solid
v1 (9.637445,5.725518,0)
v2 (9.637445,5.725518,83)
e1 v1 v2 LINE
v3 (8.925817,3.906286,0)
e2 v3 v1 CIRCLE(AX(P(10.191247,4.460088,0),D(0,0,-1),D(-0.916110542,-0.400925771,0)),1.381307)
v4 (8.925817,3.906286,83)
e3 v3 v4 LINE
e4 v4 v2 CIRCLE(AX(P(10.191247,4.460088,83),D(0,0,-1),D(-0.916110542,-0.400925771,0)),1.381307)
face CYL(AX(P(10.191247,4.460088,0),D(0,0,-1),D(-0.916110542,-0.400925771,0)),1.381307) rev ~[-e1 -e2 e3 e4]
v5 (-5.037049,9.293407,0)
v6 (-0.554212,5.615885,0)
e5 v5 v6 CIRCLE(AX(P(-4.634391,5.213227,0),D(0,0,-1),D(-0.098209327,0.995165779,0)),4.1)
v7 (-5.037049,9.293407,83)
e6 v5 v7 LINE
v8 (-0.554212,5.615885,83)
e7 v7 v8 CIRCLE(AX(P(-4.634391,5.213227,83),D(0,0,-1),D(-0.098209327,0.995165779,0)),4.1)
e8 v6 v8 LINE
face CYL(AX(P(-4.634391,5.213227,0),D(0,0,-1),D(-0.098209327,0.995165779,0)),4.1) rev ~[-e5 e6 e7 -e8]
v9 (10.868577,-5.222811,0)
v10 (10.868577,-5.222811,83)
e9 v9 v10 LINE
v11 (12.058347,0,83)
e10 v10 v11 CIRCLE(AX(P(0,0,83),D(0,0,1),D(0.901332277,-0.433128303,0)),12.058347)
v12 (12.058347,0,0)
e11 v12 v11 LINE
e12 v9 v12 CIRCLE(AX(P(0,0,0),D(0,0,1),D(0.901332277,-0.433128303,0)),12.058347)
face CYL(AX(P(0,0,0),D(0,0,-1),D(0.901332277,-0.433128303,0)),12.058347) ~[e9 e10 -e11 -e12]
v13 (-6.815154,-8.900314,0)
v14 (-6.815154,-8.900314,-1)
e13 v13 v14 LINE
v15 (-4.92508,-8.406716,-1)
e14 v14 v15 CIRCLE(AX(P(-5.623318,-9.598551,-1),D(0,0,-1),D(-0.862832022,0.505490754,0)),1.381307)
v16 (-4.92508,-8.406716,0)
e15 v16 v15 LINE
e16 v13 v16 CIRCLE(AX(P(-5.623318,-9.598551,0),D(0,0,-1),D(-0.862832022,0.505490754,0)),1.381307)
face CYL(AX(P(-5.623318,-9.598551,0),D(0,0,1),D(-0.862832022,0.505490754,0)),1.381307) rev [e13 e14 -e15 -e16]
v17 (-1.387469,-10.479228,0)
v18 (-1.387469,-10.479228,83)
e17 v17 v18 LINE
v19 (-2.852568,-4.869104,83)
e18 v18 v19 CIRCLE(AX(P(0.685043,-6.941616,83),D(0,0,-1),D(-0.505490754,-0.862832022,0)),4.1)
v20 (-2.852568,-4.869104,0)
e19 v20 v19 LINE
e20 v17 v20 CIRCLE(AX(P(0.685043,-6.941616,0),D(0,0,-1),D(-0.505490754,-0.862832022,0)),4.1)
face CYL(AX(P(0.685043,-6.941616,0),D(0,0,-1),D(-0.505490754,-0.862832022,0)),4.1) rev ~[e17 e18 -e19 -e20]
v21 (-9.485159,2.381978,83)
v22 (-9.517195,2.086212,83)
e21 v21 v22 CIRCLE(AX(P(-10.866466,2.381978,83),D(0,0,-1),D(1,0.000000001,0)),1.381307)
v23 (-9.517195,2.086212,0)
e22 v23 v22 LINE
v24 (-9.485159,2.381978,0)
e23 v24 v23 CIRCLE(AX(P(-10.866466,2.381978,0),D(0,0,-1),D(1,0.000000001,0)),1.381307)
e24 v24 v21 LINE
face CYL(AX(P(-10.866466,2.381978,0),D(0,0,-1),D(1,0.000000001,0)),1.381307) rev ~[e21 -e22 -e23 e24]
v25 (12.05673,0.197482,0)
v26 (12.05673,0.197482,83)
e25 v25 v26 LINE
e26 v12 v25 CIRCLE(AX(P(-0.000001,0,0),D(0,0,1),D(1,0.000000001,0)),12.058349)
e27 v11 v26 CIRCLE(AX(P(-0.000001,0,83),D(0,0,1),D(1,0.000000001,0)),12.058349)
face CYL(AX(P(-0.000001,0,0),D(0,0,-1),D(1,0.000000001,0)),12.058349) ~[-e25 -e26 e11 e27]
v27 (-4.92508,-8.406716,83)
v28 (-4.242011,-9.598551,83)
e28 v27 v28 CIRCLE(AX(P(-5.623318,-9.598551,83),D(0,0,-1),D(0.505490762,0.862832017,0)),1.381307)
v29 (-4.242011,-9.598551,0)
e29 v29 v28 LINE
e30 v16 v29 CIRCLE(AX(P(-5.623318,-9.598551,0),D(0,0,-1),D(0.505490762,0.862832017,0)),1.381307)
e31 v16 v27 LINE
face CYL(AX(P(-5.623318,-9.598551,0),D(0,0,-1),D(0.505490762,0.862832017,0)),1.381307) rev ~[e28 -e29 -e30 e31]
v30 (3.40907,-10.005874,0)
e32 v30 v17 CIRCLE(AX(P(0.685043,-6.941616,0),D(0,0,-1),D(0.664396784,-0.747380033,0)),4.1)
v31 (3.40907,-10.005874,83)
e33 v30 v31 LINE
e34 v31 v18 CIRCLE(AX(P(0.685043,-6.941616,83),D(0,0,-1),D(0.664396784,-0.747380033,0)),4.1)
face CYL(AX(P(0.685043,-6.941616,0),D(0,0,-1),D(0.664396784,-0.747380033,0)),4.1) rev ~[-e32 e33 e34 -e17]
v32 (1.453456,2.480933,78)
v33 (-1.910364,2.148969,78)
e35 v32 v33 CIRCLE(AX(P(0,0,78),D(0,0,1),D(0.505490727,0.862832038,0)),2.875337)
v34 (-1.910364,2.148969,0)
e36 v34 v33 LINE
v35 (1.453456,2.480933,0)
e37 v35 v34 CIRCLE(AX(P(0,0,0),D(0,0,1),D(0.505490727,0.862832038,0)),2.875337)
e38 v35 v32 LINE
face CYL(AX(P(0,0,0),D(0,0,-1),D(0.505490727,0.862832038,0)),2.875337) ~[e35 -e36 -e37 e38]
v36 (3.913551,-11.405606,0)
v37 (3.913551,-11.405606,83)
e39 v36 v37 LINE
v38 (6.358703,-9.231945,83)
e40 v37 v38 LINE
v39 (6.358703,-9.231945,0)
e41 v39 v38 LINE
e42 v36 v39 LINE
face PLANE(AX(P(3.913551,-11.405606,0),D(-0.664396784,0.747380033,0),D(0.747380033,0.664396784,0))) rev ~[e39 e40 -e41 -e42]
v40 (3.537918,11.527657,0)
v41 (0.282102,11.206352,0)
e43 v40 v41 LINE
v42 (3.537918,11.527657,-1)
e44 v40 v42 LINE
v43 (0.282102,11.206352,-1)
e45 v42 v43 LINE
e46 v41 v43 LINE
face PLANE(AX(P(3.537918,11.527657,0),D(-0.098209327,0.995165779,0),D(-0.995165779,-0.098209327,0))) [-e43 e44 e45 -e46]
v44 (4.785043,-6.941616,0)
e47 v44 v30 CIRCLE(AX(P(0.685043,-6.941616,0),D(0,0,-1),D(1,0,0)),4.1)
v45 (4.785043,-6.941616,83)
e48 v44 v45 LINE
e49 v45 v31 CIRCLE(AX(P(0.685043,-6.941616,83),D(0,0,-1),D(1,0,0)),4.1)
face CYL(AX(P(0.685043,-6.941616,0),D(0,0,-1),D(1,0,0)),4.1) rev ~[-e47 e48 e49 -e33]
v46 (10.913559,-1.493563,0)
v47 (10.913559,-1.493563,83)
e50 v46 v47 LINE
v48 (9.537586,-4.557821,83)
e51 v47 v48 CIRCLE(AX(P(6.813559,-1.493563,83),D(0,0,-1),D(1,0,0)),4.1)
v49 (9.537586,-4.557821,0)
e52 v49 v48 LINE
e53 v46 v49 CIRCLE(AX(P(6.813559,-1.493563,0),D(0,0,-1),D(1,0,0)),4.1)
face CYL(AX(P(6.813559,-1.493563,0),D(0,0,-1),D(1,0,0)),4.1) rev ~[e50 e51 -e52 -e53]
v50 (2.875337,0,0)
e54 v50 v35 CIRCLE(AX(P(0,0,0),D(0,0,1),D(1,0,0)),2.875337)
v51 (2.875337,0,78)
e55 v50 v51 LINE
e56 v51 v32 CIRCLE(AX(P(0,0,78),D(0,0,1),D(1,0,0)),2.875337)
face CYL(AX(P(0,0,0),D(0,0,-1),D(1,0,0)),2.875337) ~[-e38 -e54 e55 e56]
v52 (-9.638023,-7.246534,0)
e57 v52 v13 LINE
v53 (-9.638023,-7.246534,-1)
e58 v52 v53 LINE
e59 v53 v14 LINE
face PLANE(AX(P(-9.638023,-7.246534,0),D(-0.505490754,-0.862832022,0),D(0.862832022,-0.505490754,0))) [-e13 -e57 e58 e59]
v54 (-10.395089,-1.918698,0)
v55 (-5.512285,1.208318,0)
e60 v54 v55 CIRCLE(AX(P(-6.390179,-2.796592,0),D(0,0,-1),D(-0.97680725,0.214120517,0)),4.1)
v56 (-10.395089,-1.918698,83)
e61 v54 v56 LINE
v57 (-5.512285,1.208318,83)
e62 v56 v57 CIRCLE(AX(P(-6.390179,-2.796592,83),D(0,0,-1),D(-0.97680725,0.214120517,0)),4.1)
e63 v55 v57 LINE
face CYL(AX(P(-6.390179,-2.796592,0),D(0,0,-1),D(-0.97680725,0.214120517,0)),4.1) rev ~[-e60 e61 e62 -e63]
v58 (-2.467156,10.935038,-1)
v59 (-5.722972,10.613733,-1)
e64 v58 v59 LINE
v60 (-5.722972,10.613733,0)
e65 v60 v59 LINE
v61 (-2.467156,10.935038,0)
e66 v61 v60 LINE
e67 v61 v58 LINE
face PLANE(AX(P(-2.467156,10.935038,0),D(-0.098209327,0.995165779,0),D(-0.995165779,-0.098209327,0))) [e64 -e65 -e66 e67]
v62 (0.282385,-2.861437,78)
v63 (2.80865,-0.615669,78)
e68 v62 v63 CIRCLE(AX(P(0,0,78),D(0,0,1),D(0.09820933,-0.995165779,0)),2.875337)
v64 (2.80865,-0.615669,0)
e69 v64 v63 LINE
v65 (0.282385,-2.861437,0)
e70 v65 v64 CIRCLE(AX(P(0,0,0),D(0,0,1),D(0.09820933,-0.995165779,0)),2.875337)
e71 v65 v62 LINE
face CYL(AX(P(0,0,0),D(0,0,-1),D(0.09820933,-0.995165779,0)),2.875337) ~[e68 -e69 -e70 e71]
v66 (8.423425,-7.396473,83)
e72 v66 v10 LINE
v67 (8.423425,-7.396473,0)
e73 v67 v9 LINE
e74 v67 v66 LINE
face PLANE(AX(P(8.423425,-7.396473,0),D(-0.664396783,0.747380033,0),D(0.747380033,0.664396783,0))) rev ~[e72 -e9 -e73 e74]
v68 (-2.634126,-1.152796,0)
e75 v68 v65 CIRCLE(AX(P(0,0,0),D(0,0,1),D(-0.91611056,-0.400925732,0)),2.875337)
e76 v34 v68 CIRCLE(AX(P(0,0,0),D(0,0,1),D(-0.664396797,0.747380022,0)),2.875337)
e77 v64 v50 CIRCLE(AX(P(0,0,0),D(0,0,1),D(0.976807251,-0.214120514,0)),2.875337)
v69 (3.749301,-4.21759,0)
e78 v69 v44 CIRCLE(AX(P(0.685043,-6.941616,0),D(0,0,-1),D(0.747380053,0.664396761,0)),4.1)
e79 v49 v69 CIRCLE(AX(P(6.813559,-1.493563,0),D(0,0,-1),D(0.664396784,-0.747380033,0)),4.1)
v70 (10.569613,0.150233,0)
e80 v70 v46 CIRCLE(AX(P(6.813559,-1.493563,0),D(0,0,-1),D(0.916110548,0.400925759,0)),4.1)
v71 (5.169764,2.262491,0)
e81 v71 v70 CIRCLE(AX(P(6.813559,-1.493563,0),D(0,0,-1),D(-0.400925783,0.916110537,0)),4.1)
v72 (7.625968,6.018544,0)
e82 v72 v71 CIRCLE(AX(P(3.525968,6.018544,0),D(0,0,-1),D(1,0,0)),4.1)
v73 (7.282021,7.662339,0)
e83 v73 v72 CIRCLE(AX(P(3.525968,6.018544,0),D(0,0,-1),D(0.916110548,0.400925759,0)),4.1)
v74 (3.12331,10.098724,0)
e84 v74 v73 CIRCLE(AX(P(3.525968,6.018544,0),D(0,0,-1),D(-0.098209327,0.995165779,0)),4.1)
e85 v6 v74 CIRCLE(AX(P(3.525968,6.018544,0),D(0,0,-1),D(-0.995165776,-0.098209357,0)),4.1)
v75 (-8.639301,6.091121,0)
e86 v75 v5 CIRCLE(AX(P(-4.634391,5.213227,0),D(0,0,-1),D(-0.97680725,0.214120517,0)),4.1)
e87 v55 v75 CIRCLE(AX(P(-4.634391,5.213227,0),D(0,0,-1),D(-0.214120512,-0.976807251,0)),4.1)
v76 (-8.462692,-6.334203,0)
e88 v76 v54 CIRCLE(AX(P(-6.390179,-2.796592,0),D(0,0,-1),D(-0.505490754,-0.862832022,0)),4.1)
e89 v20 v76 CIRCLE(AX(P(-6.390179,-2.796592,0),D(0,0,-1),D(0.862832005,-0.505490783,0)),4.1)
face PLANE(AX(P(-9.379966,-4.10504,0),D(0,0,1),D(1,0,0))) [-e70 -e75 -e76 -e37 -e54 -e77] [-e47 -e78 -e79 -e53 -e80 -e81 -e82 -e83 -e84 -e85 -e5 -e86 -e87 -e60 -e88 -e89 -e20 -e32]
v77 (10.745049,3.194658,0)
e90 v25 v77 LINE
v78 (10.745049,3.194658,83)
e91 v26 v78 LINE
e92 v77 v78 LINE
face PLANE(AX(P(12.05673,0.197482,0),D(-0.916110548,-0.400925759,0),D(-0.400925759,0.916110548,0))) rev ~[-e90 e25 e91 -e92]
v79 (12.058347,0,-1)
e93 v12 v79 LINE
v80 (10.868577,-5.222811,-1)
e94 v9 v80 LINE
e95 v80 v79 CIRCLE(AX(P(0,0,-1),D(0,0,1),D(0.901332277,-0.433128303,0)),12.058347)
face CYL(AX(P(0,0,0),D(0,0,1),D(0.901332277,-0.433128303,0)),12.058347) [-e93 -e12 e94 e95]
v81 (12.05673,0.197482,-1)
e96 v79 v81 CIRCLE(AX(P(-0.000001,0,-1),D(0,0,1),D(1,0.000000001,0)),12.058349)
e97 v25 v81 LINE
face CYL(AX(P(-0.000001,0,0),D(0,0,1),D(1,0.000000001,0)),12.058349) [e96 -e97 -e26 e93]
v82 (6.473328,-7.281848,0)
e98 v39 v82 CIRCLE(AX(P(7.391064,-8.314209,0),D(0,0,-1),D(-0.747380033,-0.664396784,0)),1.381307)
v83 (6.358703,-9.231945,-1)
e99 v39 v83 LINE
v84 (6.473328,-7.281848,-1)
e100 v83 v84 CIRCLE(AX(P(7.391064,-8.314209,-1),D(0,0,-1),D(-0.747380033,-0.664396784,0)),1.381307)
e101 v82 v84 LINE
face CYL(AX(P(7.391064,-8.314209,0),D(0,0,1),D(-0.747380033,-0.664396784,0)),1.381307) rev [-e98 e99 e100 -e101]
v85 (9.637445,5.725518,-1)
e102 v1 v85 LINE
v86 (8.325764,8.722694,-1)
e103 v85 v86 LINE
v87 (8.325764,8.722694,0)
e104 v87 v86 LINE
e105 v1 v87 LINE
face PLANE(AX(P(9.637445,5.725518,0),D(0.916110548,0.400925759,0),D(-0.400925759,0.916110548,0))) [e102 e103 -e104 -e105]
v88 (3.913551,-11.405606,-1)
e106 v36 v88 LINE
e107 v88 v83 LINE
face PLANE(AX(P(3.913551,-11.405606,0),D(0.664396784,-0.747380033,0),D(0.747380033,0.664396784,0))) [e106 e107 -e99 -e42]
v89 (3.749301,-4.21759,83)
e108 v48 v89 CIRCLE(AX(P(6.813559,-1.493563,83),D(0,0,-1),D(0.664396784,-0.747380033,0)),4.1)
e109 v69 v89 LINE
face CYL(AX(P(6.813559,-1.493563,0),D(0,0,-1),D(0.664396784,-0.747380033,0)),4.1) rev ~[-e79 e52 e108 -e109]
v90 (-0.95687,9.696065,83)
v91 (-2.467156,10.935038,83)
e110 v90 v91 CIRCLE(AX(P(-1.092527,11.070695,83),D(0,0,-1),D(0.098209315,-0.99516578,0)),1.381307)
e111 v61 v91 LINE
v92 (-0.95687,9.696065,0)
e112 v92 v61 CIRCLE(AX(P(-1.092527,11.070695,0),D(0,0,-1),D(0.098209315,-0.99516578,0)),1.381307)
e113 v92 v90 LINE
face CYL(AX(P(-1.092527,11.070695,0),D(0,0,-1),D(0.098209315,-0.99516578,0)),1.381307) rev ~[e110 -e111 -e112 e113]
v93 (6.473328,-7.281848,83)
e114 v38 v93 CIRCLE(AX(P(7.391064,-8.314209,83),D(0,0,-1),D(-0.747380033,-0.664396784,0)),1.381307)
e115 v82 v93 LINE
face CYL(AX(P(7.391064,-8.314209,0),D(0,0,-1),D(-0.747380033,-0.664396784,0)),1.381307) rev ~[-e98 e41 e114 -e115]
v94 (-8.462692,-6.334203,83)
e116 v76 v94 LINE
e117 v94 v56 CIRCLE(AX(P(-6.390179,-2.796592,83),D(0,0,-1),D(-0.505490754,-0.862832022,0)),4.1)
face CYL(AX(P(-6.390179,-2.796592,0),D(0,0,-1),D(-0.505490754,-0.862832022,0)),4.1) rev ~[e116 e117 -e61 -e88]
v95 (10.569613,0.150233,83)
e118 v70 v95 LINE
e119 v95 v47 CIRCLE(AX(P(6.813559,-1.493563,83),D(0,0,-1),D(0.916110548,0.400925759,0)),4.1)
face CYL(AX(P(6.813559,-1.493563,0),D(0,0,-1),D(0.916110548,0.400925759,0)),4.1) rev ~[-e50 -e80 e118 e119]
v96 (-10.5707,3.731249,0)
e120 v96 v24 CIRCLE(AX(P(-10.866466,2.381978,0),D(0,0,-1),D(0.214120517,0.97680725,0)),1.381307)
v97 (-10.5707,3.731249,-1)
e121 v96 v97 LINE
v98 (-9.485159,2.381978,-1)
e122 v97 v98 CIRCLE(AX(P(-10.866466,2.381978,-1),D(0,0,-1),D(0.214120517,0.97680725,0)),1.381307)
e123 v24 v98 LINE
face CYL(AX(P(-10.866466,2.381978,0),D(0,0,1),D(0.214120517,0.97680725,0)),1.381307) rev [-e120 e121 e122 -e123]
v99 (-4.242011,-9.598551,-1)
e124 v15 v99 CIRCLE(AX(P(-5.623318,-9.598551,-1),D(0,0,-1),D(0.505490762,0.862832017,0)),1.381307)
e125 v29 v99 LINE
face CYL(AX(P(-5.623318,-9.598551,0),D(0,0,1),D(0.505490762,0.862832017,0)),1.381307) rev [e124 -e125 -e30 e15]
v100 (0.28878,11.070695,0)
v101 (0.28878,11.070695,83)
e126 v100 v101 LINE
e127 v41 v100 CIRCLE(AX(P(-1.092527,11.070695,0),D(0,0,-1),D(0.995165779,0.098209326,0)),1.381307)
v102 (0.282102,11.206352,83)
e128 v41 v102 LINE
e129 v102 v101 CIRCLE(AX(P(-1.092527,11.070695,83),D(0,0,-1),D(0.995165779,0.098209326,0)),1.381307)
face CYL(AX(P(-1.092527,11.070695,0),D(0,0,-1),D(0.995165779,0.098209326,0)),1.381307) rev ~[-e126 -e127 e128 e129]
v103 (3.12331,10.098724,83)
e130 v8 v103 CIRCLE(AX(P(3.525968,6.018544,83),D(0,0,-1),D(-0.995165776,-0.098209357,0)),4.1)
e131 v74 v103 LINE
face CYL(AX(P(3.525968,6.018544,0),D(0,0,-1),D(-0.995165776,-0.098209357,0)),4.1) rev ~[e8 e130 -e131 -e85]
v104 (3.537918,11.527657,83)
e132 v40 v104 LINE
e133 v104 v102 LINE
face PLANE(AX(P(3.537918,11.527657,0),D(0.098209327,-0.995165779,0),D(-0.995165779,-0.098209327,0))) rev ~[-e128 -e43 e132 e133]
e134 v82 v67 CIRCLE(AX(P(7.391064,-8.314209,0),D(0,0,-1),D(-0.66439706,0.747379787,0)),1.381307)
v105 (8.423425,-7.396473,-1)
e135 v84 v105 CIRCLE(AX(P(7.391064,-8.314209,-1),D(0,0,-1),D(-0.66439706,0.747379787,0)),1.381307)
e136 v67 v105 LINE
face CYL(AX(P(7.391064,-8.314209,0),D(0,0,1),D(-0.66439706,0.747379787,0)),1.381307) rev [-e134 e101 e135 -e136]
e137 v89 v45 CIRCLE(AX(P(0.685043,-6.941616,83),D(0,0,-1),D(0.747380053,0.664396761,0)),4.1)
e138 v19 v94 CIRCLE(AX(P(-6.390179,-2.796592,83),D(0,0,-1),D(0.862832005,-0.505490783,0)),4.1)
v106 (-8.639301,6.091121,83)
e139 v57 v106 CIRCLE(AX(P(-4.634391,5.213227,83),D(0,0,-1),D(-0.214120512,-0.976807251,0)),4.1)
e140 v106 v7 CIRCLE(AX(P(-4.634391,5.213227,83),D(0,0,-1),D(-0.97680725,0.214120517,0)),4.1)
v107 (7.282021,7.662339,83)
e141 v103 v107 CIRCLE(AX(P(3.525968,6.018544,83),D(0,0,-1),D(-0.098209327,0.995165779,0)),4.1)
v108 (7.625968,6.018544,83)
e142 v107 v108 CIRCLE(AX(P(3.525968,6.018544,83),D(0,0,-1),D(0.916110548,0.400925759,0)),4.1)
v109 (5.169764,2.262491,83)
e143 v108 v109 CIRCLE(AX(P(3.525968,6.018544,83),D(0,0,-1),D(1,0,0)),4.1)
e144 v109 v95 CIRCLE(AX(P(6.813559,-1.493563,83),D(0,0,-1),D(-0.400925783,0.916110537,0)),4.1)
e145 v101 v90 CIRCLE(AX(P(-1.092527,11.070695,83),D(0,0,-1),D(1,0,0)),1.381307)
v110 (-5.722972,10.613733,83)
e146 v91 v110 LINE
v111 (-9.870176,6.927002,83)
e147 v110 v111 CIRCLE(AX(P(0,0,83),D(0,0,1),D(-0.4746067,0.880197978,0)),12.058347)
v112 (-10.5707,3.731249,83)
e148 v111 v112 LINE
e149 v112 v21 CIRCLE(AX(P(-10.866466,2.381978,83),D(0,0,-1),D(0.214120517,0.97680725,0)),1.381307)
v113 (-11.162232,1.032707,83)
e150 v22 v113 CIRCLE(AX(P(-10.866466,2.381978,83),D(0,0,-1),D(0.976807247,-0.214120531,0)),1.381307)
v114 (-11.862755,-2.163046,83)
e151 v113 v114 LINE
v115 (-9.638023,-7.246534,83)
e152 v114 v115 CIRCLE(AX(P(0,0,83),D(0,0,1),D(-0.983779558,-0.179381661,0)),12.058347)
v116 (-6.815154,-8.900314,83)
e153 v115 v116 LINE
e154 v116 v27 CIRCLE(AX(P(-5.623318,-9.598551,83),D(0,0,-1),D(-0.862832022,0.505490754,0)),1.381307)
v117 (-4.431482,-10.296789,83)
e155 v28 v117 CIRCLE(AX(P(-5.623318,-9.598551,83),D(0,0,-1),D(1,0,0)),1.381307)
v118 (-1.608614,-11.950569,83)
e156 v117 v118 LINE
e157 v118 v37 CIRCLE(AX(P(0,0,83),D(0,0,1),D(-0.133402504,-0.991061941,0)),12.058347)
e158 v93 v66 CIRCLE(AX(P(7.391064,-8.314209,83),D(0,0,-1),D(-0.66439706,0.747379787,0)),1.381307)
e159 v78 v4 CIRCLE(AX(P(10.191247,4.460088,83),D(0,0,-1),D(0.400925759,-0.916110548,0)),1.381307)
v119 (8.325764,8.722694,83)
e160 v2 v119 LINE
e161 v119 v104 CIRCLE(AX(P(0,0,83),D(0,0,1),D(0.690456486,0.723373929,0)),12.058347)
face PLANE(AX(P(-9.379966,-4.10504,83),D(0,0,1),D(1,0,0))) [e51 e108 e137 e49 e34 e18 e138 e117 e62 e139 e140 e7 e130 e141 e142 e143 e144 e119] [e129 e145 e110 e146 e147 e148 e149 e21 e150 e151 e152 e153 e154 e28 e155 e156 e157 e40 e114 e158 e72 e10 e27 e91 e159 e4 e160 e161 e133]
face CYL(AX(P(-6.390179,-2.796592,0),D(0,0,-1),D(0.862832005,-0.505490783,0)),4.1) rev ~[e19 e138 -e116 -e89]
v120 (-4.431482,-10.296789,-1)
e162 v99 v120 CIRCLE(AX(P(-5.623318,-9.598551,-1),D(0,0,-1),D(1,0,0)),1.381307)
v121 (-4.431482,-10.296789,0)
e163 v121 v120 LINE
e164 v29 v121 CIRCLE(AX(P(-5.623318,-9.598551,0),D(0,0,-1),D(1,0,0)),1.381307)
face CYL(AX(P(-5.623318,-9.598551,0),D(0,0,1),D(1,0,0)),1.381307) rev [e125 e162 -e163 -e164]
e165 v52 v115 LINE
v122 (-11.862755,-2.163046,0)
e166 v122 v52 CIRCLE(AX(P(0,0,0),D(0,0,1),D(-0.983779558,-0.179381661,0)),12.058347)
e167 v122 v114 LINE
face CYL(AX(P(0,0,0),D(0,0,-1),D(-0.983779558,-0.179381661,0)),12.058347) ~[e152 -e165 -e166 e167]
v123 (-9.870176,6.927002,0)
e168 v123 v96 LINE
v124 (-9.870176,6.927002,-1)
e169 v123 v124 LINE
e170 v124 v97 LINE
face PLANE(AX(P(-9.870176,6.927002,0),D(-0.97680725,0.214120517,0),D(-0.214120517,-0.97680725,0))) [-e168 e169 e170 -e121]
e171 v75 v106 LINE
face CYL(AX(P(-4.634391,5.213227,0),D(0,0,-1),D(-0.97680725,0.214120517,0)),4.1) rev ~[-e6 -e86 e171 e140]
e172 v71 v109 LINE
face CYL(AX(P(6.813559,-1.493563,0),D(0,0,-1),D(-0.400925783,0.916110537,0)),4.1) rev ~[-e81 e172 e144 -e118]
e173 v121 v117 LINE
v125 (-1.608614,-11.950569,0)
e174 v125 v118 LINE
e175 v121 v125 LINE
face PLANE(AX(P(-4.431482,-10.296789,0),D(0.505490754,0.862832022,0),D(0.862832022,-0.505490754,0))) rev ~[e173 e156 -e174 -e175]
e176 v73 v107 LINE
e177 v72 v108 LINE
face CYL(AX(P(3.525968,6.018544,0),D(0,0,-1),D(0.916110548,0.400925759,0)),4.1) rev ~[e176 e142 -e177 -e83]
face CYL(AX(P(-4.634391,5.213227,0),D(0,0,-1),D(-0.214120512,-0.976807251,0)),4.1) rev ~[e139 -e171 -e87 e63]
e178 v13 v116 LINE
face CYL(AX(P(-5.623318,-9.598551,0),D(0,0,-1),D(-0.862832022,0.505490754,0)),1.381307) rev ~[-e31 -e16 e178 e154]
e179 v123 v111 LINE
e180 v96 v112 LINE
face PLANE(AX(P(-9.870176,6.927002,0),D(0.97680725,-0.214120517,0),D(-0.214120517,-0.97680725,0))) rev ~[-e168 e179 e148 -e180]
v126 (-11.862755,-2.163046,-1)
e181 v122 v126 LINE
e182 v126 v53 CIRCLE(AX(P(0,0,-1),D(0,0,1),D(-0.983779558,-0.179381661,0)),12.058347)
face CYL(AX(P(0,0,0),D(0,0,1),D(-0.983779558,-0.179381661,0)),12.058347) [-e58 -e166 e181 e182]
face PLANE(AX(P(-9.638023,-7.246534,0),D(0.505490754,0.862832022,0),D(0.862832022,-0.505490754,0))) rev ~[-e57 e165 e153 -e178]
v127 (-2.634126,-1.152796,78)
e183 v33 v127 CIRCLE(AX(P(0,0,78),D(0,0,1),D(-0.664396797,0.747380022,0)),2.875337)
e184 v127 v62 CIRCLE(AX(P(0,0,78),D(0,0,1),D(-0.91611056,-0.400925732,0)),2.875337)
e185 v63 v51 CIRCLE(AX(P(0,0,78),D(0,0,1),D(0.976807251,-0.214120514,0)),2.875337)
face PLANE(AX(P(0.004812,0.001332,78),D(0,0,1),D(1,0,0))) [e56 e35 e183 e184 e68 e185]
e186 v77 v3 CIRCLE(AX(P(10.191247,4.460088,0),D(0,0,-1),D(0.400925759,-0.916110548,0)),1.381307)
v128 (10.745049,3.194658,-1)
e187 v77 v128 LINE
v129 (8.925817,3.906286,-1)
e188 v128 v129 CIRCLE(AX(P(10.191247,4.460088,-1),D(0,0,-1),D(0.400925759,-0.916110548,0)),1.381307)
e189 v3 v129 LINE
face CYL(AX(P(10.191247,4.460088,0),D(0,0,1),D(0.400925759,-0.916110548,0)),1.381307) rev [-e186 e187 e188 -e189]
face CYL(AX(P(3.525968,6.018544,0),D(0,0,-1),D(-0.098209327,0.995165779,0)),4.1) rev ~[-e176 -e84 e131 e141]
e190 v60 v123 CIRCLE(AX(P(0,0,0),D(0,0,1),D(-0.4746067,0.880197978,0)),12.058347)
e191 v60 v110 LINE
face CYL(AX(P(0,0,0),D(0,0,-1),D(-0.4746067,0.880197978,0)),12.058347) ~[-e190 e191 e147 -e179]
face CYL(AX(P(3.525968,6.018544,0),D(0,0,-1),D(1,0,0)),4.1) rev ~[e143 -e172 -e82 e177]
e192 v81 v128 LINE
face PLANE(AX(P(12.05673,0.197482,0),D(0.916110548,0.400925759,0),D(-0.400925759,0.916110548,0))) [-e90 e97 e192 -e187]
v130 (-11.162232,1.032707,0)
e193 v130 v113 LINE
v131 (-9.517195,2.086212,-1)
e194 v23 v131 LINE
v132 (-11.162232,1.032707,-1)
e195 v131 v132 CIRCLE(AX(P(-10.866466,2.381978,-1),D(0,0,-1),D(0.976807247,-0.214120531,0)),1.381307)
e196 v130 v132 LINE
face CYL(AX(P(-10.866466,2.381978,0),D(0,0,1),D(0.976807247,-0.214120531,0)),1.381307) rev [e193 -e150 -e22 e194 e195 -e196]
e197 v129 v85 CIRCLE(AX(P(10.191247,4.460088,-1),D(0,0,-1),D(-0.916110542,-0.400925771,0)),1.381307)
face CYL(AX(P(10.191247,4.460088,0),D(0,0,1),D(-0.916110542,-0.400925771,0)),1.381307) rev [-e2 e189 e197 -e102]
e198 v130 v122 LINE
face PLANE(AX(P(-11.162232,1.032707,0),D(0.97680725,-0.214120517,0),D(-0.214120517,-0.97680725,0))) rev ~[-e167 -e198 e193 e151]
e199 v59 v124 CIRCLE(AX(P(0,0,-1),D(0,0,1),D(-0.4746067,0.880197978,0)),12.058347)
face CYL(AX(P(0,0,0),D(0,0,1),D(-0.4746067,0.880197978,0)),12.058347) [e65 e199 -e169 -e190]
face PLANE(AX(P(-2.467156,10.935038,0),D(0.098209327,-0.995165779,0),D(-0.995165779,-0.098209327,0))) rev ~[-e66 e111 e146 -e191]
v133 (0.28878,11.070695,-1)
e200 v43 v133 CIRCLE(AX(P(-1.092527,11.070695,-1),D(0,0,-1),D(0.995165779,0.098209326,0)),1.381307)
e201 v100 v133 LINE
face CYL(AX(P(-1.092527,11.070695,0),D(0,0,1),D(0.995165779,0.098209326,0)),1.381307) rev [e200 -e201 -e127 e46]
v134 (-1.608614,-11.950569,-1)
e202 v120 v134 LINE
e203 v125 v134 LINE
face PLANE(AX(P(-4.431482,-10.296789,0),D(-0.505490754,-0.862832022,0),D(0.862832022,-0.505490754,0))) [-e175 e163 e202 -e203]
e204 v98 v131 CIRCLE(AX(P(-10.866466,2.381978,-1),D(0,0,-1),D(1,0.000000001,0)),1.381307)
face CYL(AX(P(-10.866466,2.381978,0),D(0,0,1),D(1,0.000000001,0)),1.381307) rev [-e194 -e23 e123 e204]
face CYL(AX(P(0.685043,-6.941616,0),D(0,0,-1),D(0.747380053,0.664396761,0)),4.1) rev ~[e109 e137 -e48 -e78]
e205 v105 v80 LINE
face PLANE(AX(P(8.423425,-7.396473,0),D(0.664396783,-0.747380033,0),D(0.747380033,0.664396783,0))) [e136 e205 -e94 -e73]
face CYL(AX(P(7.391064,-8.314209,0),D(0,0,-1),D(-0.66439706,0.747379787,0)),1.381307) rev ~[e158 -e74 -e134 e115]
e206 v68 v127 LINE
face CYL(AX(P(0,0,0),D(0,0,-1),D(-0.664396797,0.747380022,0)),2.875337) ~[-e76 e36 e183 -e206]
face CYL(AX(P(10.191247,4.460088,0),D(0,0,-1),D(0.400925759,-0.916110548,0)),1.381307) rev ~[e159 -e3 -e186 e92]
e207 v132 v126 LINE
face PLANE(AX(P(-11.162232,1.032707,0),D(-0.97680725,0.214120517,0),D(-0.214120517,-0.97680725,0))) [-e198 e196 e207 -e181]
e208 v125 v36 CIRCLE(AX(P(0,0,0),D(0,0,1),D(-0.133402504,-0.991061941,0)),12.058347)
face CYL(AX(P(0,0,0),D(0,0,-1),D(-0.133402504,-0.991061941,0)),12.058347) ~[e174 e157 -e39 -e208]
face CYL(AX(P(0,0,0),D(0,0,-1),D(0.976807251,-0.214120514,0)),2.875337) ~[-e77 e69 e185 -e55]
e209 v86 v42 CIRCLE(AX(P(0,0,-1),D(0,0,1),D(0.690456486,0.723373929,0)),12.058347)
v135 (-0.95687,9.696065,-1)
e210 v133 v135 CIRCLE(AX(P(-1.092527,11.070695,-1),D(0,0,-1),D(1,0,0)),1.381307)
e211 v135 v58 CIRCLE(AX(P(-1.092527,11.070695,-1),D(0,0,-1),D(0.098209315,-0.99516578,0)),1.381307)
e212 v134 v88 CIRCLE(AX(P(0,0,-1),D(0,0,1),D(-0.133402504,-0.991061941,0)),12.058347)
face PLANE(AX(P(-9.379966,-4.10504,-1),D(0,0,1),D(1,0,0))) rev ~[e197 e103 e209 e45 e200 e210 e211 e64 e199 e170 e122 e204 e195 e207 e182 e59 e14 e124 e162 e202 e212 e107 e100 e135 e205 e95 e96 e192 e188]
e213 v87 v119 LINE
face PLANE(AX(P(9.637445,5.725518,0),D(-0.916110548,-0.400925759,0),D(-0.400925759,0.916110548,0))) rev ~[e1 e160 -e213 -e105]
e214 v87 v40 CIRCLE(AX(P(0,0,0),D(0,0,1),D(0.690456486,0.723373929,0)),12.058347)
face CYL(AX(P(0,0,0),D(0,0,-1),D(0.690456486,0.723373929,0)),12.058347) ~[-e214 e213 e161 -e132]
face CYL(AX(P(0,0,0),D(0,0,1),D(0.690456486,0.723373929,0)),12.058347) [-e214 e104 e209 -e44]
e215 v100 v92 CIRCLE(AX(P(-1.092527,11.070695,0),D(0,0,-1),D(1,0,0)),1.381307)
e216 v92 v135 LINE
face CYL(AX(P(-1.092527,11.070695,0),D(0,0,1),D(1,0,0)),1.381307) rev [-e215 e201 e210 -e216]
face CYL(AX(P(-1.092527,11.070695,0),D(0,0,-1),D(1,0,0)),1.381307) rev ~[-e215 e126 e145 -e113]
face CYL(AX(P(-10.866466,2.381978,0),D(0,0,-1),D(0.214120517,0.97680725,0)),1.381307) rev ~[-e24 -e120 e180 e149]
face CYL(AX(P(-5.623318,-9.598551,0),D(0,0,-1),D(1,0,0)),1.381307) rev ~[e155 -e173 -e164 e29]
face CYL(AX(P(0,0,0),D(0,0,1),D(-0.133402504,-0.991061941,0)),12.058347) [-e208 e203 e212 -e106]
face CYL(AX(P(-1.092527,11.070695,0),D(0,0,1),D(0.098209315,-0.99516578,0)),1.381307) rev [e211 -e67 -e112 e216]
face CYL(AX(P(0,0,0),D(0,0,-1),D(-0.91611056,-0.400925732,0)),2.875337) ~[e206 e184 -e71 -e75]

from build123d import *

# Parameters (mm, degrees)
F1_DEPTH = 83
F2_DEPTH = 1
F3_DEPTH = 78


with BuildPart() as f1:
    # F0 (on Top) → F1 (new body)
    with BuildSketch(Plane.XY):
        with BuildLine():
            Line((-10.3950891863, -1.9186980107), (-9.5171950704, 2.0862116958))
            ThreePointArc((-9.5171950704, 2.0862116958), (-10.1215255896, 1.2187611374), (-11.1622319686, 1.0327071659))
            Line((-11.1622319686, 1.0327071659), (-11.8627554285, -2.163046346))
            ThreePointArc((-11.8627554285, -2.163046346), (-11.0467790087, -4.8345019791), (-9.6380226836, -7.2465339717))
            Line((-9.6380226836, -7.2465339717), (-6.8151541357, -8.900313518))
            ThreePointArc((-6.8151541357, -8.900313518), (-5.9723446863, -8.2620673961), (-4.9250802493, -8.4067155171))
            Line((-4.9250802493, -8.4067155171), (-8.4626915502, -6.3342034206))
            ThreePointArc((-8.4626915502, -6.3342034206), (-10.1462327065, -4.4403877421), (-10.3950891863, -1.9186980107))
        make_face()
        with BuildLine():
            Line((-1.3874689708, -10.4792276005), (-4.9250802493, -8.4067155171))
            ThreePointArc((-4.9250802493, -8.4067155171), (-4.4248837763, -8.9117006172), (-4.2420111599, -9.5985514519))
            ThreePointArc((-4.2420111599, -9.5985514519), (-4.290220206, -9.9602956665), (-4.431482253, -10.2967893857))
            Line((-4.431482253, -10.2967893857), (-1.6086137051, -11.950568932))
            ThreePointArc((-1.6086137051, -11.950568932), (1.1842421634, -12.0000544311), (3.9135505529, -11.405606425))
            Line((3.9135505529, -11.405606425), (6.3587027212, -9.2319448826))
            ThreePointArc((6.3587027212, -9.2319448826), (6.0121370154, -8.2331568272), (6.4733276858, -7.2818479742))
            Line((6.4733276858, -7.2818479742), (3.4090699315, -10.005874447))
            ThreePointArc((3.4090699315, -10.005874447), (1.0877013618, -11.0217960053), (-1.3874689708, -10.4792276005))
        make_face()
        with BuildLine():
            ThreePointArc((-2.8525682403, -4.8691043398), (-5.3541979477, -6.7635484333), (-8.4626915502, -6.3342034206))
            Line((-8.4626915502, -6.3342034206), (-4.9250802493, -8.4067155171))
            Line((-4.9250802493, -8.4067155171), (-1.3874689708, -10.4792276005))
            ThreePointArc((-1.3874689708, -10.4792276005), (-3.2819131484, -7.9775979567), (-2.8525682403, -4.8691043398))
        make_face()
        with BuildLine():
            ThreePointArc((9.537586204, -4.5578208223), (6.5729795774, -5.5864982283), (3.7493013379, -4.2175895912))
            ThreePointArc((3.7493013379, -4.2175895912), (4.5173700035, -5.4844716194), (4.7850431192, -6.9416163107))
            ThreePointArc((4.7850431192, -6.9416163107), (4.4252643647, -8.6211236893), (3.4090699315, -10.005874447))
            Line((3.4090699315, -10.005874447), (6.4733276858, -7.2818479742))
            Line((6.4733276858, -7.2818479742), (9.537586204, -4.5578208223))
        make_face()
        with BuildLine():
            Line((8.9258170342, 3.9062861541), (7.2820214155, 7.6623394177))
            ThreePointArc((7.2820214155, 7.6623394177), (7.5390603878, 6.8582406834), (7.6259681692, 6.0185438065))
            ThreePointArc((7.6259681692, 6.0185438065), (6.9574082172, 3.7746143965), (5.1697636829, 2.2624905175))
            ThreePointArc((5.1697636829, 2.2624905175), (8.3071510394, 2.3247070778), (10.5696126379, 0.1502329252))
            Line((10.5696126379, 0.1502329252), (8.9258170342, 3.9062861541))
        make_face()
        with BuildLine():
            Line((-0.9568697851, 9.6960652567), (-5.0370494624, 9.2934070157))
            ThreePointArc((-5.0370494624, 9.2934070157), (-2.0339908159, 8.3830723867), (-0.5542115132, 5.6158854419))
            ThreePointArc((-0.5542115132, 5.6158854419), (0.3561230261, 8.6189441157), (3.1233099266, 10.098723501))
            Line((3.1233099266, 10.098723501), (-0.9568697851, 9.6960652567))
        make_face()
        with BuildLine():
            ThreePointArc((-5.5122853186, 1.2083175905), (-8.0870549248, 3.0020933722), (-8.6393009458, 6.0911214414))
            Line((-8.6393009458, 6.0911214414), (-9.5171950704, 2.0862116958))
            Line((-9.5171950704, 2.0862116958), (-10.3950891863, -1.9186980107))
            ThreePointArc((-10.3950891863, -1.9186980107), (-8.6013133908, 0.6560715859), (-5.5122853186, 1.2083175905))
        make_face()
        with BuildLine():
            ThreePointArc((-8.6393009458, 6.0911214414), (-7.3584180322, 8.2774854574), (-5.0370494624, 9.2934070157))
            Line((-5.0370494624, 9.2934070157), (-0.9568697851, 9.6960652567))
            ThreePointArc((-0.9568697851, 9.6960652567), (-1.9686126936, 10.0027607695), (-2.4671564939, 10.9350375146))
            Line((-2.4671564939, 10.9350375146), (-5.72297235, 10.6137327709))
            ThreePointArc((-5.72297235, 10.6137327709), (-8.011527057, 9.0121678894), (-9.8701761557, 6.9270021298))
            Line((-9.8701761557, 6.9270021298), (-10.5706996156, 3.7312486179))
            ThreePointArc((-10.5706996156, 3.7312486179), (-9.7902332374, 3.2478489051), (-9.4851587577, 2.3819778919))
            ThreePointArc((-9.4851587577, 2.3819778919), (-9.4931911905, 2.2332298095), (-9.5171950704, 2.0862116958))
            Line((-9.5171950704, 2.0862116958), (-8.6393009458, 6.0911214414))
        make_face()
        with BuildLine():
            ThreePointArc((0.2887800316, 11.0706947495), (-0.0689564404, 10.1431644658), (-0.9568697851, 9.6960652567))
            Line((-0.9568697851, 9.6960652567), (3.1233099266, 10.098723501))
            ThreePointArc((3.1233099266, 10.098723501), (5.5984802592, 9.5561550962), (7.2820214155, 7.6623394177))
            Line((7.2820214155, 7.6623394177), (8.9258170342, 3.9062861541))
            ThreePointArc((8.9258170342, 3.9062861541), (8.9048560265, 4.9632849819), (9.6374453998, 5.7255176864))
            Line((9.6374453998, 5.7255176864), (8.3257639995, 8.722693946))
            ThreePointArc((8.3257639995, 8.722693946), (6.0953829856, 10.404328047), (3.5379183444, 11.5276567281))
            Line((3.5379183444, 11.5276567281), (0.2821024884, 11.2063519844))
            ThreePointArc((0.2821024884, 11.2063519844), (0.2871096358, 11.1386054905), (0.2887800316, 11.0706947495))
        make_face()
        with BuildLine():
            ThreePointArc((10.7450485417, 3.1946577983), (9.6880497312, 3.1736967981), (8.9258170342, 3.9062861541))
            Line((8.9258170342, 3.9062861541), (10.5696126379, 0.1502329252))
            ThreePointArc((10.5696126379, 0.1502329252), (10.8266516102, -0.653865809), (10.9135593917, -1.493562686))
            ThreePointArc((10.9135593917, -1.493562686), (10.5537806372, -3.1730700646), (9.537586204, -4.5578208223))
            Line((9.537586204, -4.5578208223), (6.4733276858, -7.2818479742))
            ThreePointArc((6.4733276858, -7.2818479742), (7.4721161232, -6.9352819289), (8.4234253157, -7.3964729812))
            Line((8.4234253157, -7.3964729812), (10.868577484, -5.2228114389))
            ThreePointArc((10.868577484, -5.2228114389), (11.7571428527, -2.6783068892), (12.0583471443, 0))
            ThreePointArc((12.0583471443, 0), (12.0579428369, 0.0987440802), (12.056729942, 0.1974815387))
            Line((12.056729942, 0.1974815387), (10.7450485417, 3.1946577983))
        make_face()
    extrude(amount=F1_DEPTH)

    # F0 (on Top) → F2 (join)
    with BuildSketch(Plane.XY):
        with BuildLine():
            Line((-10.3950891863, -1.9186980107), (-9.5171950704, 2.0862116958))
            ThreePointArc((-9.5171950704, 2.0862116958), (-10.1215255896, 1.2187611374), (-11.1622319686, 1.0327071659))
            Line((-11.1622319686, 1.0327071659), (-11.8627554285, -2.163046346))
            ThreePointArc((-11.8627554285, -2.163046346), (-11.0467790087, -4.8345019791), (-9.6380226836, -7.2465339717))
            Line((-9.6380226836, -7.2465339717), (-6.8151541357, -8.900313518))
            ThreePointArc((-6.8151541357, -8.900313518), (-5.9723446863, -8.2620673961), (-4.9250802493, -8.4067155171))
            Line((-4.9250802493, -8.4067155171), (-8.4626915502, -6.3342034206))
            ThreePointArc((-8.4626915502, -6.3342034206), (-10.1462327065, -4.4403877421), (-10.3950891863, -1.9186980107))
        make_face()
        with BuildLine():
            Line((-1.3874689708, -10.4792276005), (-4.9250802493, -8.4067155171))
            ThreePointArc((-4.9250802493, -8.4067155171), (-4.4248837763, -8.9117006172), (-4.2420111599, -9.5985514519))
            ThreePointArc((-4.2420111599, -9.5985514519), (-4.290220206, -9.9602956665), (-4.431482253, -10.2967893857))
            Line((-4.431482253, -10.2967893857), (-1.6086137051, -11.950568932))
            ThreePointArc((-1.6086137051, -11.950568932), (1.1842421634, -12.0000544311), (3.9135505529, -11.405606425))
            Line((3.9135505529, -11.405606425), (6.3587027212, -9.2319448826))
            ThreePointArc((6.3587027212, -9.2319448826), (6.0121370154, -8.2331568272), (6.4733276858, -7.2818479742))
            Line((6.4733276858, -7.2818479742), (3.4090699315, -10.005874447))
            ThreePointArc((3.4090699315, -10.005874447), (1.0877013618, -11.0217960053), (-1.3874689708, -10.4792276005))
        make_face()
        with BuildLine():
            ThreePointArc((-2.8525682403, -4.8691043398), (-5.3541979477, -6.7635484333), (-8.4626915502, -6.3342034206))
            Line((-8.4626915502, -6.3342034206), (-4.9250802493, -8.4067155171))
            Line((-4.9250802493, -8.4067155171), (-1.3874689708, -10.4792276005))
            ThreePointArc((-1.3874689708, -10.4792276005), (-3.2819131484, -7.9775979567), (-2.8525682403, -4.8691043398))
        make_face()
        with BuildLine():
            ThreePointArc((-2.6341262483, -1.1527964414), (-3.7897791282, 0.3732529936), (-5.5122853186, 1.2083175905))
            ThreePointArc((-5.5122853186, 1.2083175905), (-8.6013133908, 0.6560715859), (-10.3950891863, -1.9186980107))
            ThreePointArc((-10.3950891863, -1.9186980107), (-10.1462327065, -4.4403877421), (-8.4626915502, -6.3342034206))
            ThreePointArc((-8.4626915502, -6.3342034206), (-5.3541979477, -6.7635484333), (-2.8525682403, -4.8691043398))
            ThreePointArc((-2.8525682403, -4.8691043398), (-2.4332737246, -3.8703225435), (-2.2901794603, -2.7965921309))
            ThreePointArc((-2.2901794603, -2.7965921309), (-2.3770872504, -1.9568952121), (-2.6341262483, -1.1527964414))
        make_face()
        with BuildLine():
            ThreePointArc((2.8753366285, 0), (2.4946679145, 1.4297526792), (1.4534560019, 2.4809325621))
            ThreePointArc((1.4534560019, 2.4809325621), (-0.2823849464, 2.8614366093), (-1.9103644453, 2.1489691513))
            ThreePointArc((-1.9103644453, 2.1489691513), (-2.8086496619, 0.6156685828), (-2.6341262483, -1.1527964414))
            ThreePointArc((-2.6341262483, -1.1527964414), (-1.4534561135, -2.4809324967), (0.2823848827, -2.8614366156))
            ThreePointArc((0.2823848827, -2.8614366156), (1.9103644135, -2.1489691795), (2.8086496678, -0.6156685559))
            ThreePointArc((2.8086496678, -0.6156685559), (2.8586162731, -0.3096348339), (2.8753366285, 0))
        make_face()
        with BuildLine():
            ThreePointArc((9.537586204, -4.5578208223), (6.5729795774, -5.5864982283), (3.7493013379, -4.2175895912))
            ThreePointArc((3.7493013379, -4.2175895912), (4.5173700035, -5.4844716194), (4.7850431192, -6.9416163107))
            ThreePointArc((4.7850431192, -6.9416163107), (4.4252643647, -8.6211236893), (3.4090699315, -10.005874447))
            Line((3.4090699315, -10.005874447), (6.4733276858, -7.2818479742))
            Line((6.4733276858, -7.2818479742), (9.537586204, -4.5578208223))
        make_face()
        with BuildLine():
            ThreePointArc((2.8086496678, -0.6156685559), (1.9103644135, -2.1489691795), (0.2823848827, -2.8614366156))
            ThreePointArc((0.2823848827, -2.8614366156), (2.1786348772, -3.12334659), (3.7493013379, -4.2175895912))
            ThreePointArc((3.7493013379, -4.2175895912), (2.846603121, -2.5295443205), (2.8086496678, -0.6156685559))
        make_face()
        with BuildLine():
            ThreePointArc((3.7493013379, -4.2175895912), (2.1786348772, -3.12334659), (0.2823848827, -2.8614366156))
            ThreePointArc((0.2823848827, -2.8614366156), (-1.5260908761, -3.4889526354), (-2.8525682403, -4.8691043398))
            ThreePointArc((-2.8525682403, -4.8691043398), (-3.2819131484, -7.9775979567), (-1.3874689708, -10.4792276005))
            ThreePointArc((-1.3874689708, -10.4792276005), (1.0877013618, -11.0217960053), (3.4090699315, -10.005874447))
            ThreePointArc((3.4090699315, -10.005874447), (4.4252643647, -8.6211236893), (4.7850431192, -6.9416163107))
            ThreePointArc((4.7850431192, -6.9416163107), (4.5173700035, -5.4844716194), (3.7493013379, -4.2175895912))
        make_face()
        with BuildLine():
            ThreePointArc((10.5696126379, 0.1502329252), (8.3071510394, 2.3247070778), (5.1697636829, 2.2624905175))
            ThreePointArc((5.1697636829, 2.2624905175), (3.6437142568, 1.1068376333), (2.8086496678, -0.6156685559))
            ThreePointArc((2.8086496678, -0.6156685559), (2.846603121, -2.5295443205), (3.7493013379, -4.2175895912))
            ThreePointArc((3.7493013379, -4.2175895912), (6.5729795774, -5.5864982283), (9.537586204, -4.5578208223))
            ThreePointArc((9.537586204, -4.5578208223), (10.5537806372, -3.1730700646), (10.9135593917, -1.493562686))
            ThreePointArc((10.9135593917, -1.493562686), (10.8266516102, -0.653865809), (10.5696126379, 0.1502329252))
        make_face()
        with BuildLine():
            ThreePointArc((3.1233099266, 10.098723501), (0.3561230261, 8.6189441157), (-0.5542115132, 5.6158854419))
            ThreePointArc((-0.5542115132, 5.6158854419), (0.0733044672, 3.8074098529), (1.4534560019, 2.4809325621))
            ThreePointArc((1.4534560019, 2.4809325621), (3.285388195, 1.9256082736), (5.1697636829, 2.2624905175))
            ThreePointArc((5.1697636829, 2.2624905175), (6.9574082172, 3.7746143965), (7.6259681692, 6.0185438065))
            ThreePointArc((7.6259681692, 6.0185438065), (7.5390603878, 6.8582406834), (7.2820214155, 7.6623394177))
            ThreePointArc((7.2820214155, 7.6623394177), (5.5984802592, 9.5561550962), (3.1233099266, 10.098723501))
        make_face()
        with BuildLine():
            ThreePointArc((-0.5542115132, 5.6158854419), (-2.0339908159, 8.3830723867), (-5.0370494624, 9.2934070157))
            ThreePointArc((-5.0370494624, 9.2934070157), (-7.3584180322, 8.2774854574), (-8.6393009458, 6.0911214414))
            ThreePointArc((-8.6393009458, 6.0911214414), (-8.0870549248, 3.0020933722), (-5.5122853186, 1.2083175905))
            ThreePointArc((-5.5122853186, 1.2083175905), (-3.5984096544, 1.2462710325), (-1.9103644453, 2.1489691513))
            ThreePointArc((-1.9103644453, 2.1489691513), (-0.8941699847, 3.5337199196), (-0.5343912198, 5.2132273212))
            ThreePointArc((-0.5343912198, 5.2132273212), (-0.539349291, 5.4148001407), (-0.5542115132, 5.6158854419))
        make_face()
        with BuildLine():
            Line((8.9258170342, 3.9062861541), (7.2820214155, 7.6623394177))
            ThreePointArc((7.2820214155, 7.6623394177), (7.5390603878, 6.8582406834), (7.6259681692, 6.0185438065))
            ThreePointArc((7.6259681692, 6.0185438065), (6.9574082172, 3.7746143965), (5.1697636829, 2.2624905175))
            ThreePointArc((5.1697636829, 2.2624905175), (8.3071510394, 2.3247070778), (10.5696126379, 0.1502329252))
            Line((10.5696126379, 0.1502329252), (8.9258170342, 3.9062861541))
        make_face()
        with BuildLine():
            ThreePointArc((5.1697636829, 2.2624905175), (3.285388195, 1.9256082736), (1.4534560019, 2.4809325621))
            ThreePointArc((1.4534560019, 2.4809325621), (2.4946679145, 1.4297526792), (2.8753366285, 0))
            ThreePointArc((2.8753366285, 0), (2.8586162731, -0.3096348339), (2.8086496678, -0.6156685559))
            ThreePointArc((2.8086496678, -0.6156685559), (3.6437142568, 1.1068376333), (5.1697636829, 2.2624905175))
        make_face()
        with BuildLine():
            Line((-0.9568697851, 9.6960652567), (-5.0370494624, 9.2934070157))
            ThreePointArc((-5.0370494624, 9.2934070157), (-2.0339908159, 8.3830723867), (-0.5542115132, 5.6158854419))
            ThreePointArc((-0.5542115132, 5.6158854419), (0.3561230261, 8.6189441157), (3.1233099266, 10.098723501))
            Line((3.1233099266, 10.098723501), (-0.9568697851, 9.6960652567))
        make_face()
        with BuildLine():
            ThreePointArc((-5.5122853186, 1.2083175905), (-8.0870549248, 3.0020933722), (-8.6393009458, 6.0911214414))
            Line((-8.6393009458, 6.0911214414), (-9.5171950704, 2.0862116958))
            Line((-9.5171950704, 2.0862116958), (-10.3950891863, -1.9186980107))
            ThreePointArc((-10.3950891863, -1.9186980107), (-8.6013133908, 0.6560715859), (-5.5122853186, 1.2083175905))
        make_face()
        with BuildLine():
            ThreePointArc((-1.9103644453, 2.1489691513), (-3.5984096544, 1.2462710325), (-5.5122853186, 1.2083175905))
            ThreePointArc((-5.5122853186, 1.2083175905), (-3.7897791282, 0.3732529936), (-2.6341262483, -1.1527964414))
            ThreePointArc((-2.6341262483, -1.1527964414), (-2.8086496619, 0.6156685828), (-1.9103644453, 2.1489691513))
        make_face()
        with BuildLine():
            ThreePointArc((1.4534560019, 2.4809325621), (0.0733044672, 3.8074098529), (-0.5542115132, 5.6158854419))
            ThreePointArc((-0.5542115132, 5.6158854419), (-0.539349291, 5.4148001407), (-0.5343912198, 5.2132273212))
            ThreePointArc((-0.5343912198, 5.2132273212), (-0.8941699847, 3.5337199196), (-1.9103644453, 2.1489691513))
            ThreePointArc((-1.9103644453, 2.1489691513), (-0.2823849464, 2.8614366093), (1.4534560019, 2.4809325621))
        make_face()
        with BuildLine():
            ThreePointArc((0.2823848827, -2.8614366156), (-1.4534561135, -2.4809324967), (-2.6341262483, -1.1527964414))
            ThreePointArc((-2.6341262483, -1.1527964414), (-2.3770872504, -1.9568952121), (-2.2901794603, -2.7965921309))
            ThreePointArc((-2.2901794603, -2.7965921309), (-2.4332737246, -3.8703225435), (-2.8525682403, -4.8691043398))
            ThreePointArc((-2.8525682403, -4.8691043398), (-1.5260908761, -3.4889526354), (0.2823848827, -2.8614366156))
        make_face()
        with BuildLine():
            ThreePointArc((-8.6393009458, 6.0911214414), (-7.3584180322, 8.2774854574), (-5.0370494624, 9.2934070157))
            Line((-5.0370494624, 9.2934070157), (-0.9568697851, 9.6960652567))
            ThreePointArc((-0.9568697851, 9.6960652567), (-1.9686126936, 10.0027607695), (-2.4671564939, 10.9350375146))
            Line((-2.4671564939, 10.9350375146), (-5.72297235, 10.6137327709))
            ThreePointArc((-5.72297235, 10.6137327709), (-8.011527057, 9.0121678894), (-9.8701761557, 6.9270021298))
            Line((-9.8701761557, 6.9270021298), (-10.5706996156, 3.7312486179))
            ThreePointArc((-10.5706996156, 3.7312486179), (-9.7902332374, 3.2478489051), (-9.4851587577, 2.3819778919))
            ThreePointArc((-9.4851587577, 2.3819778919), (-9.4931911905, 2.2332298095), (-9.5171950704, 2.0862116958))
            Line((-9.5171950704, 2.0862116958), (-8.6393009458, 6.0911214414))
        make_face()
        with BuildLine():
            ThreePointArc((0.2887800316, 11.0706947495), (-0.0689564404, 10.1431644658), (-0.9568697851, 9.6960652567))
            Line((-0.9568697851, 9.6960652567), (3.1233099266, 10.098723501))
            ThreePointArc((3.1233099266, 10.098723501), (5.5984802592, 9.5561550962), (7.2820214155, 7.6623394177))
            Line((7.2820214155, 7.6623394177), (8.9258170342, 3.9062861541))
            ThreePointArc((8.9258170342, 3.9062861541), (8.9048560265, 4.9632849819), (9.6374453998, 5.7255176864))
            Line((9.6374453998, 5.7255176864), (8.3257639995, 8.722693946))
            ThreePointArc((8.3257639995, 8.722693946), (6.0953829856, 10.404328047), (3.5379183444, 11.5276567281))
            Line((3.5379183444, 11.5276567281), (0.2821024884, 11.2063519844))
            ThreePointArc((0.2821024884, 11.2063519844), (0.2871096358, 11.1386054905), (0.2887800316, 11.0706947495))
        make_face()
        with BuildLine():
            ThreePointArc((10.7450485417, 3.1946577983), (9.6880497312, 3.1736967981), (8.9258170342, 3.9062861541))
            Line((8.9258170342, 3.9062861541), (10.5696126379, 0.1502329252))
            ThreePointArc((10.5696126379, 0.1502329252), (10.8266516102, -0.653865809), (10.9135593917, -1.493562686))
            ThreePointArc((10.9135593917, -1.493562686), (10.5537806372, -3.1730700646), (9.537586204, -4.5578208223))
            Line((9.537586204, -4.5578208223), (6.4733276858, -7.2818479742))
            ThreePointArc((6.4733276858, -7.2818479742), (7.4721161232, -6.9352819289), (8.4234253157, -7.3964729812))
            Line((8.4234253157, -7.3964729812), (10.868577484, -5.2228114389))
            ThreePointArc((10.868577484, -5.2228114389), (11.7571428527, -2.6783068892), (12.0583471443, 0))
            ThreePointArc((12.0583471443, 0), (12.0579428369, 0.0987440802), (12.056729942, 0.1974815387))
            Line((12.056729942, 0.1974815387), (10.7450485417, 3.1946577983))
        make_face()
    extrude(amount=-F2_DEPTH)

    # F0 (on Top) → F3 (join)
    with BuildSketch(Plane.XY):
        with BuildLine():
            ThreePointArc((2.8753366285, 0), (2.4946679145, 1.4297526792), (1.4534560019, 2.4809325621))
            ThreePointArc((1.4534560019, 2.4809325621), (-0.2823849464, 2.8614366093), (-1.9103644453, 2.1489691513))
            ThreePointArc((-1.9103644453, 2.1489691513), (-2.8086496619, 0.6156685828), (-2.6341262483, -1.1527964414))
            ThreePointArc((-2.6341262483, -1.1527964414), (-1.4534561135, -2.4809324967), (0.2823848827, -2.8614366156))
            ThreePointArc((0.2823848827, -2.8614366156), (1.9103644135, -2.1489691795), (2.8086496678, -0.6156685559))
            ThreePointArc((2.8086496678, -0.6156685559), (2.8586162731, -0.3096348339), (2.8753366285, 0))
        make_face()
    extrude(amount=F3_DEPTH)


solid = f1.part
